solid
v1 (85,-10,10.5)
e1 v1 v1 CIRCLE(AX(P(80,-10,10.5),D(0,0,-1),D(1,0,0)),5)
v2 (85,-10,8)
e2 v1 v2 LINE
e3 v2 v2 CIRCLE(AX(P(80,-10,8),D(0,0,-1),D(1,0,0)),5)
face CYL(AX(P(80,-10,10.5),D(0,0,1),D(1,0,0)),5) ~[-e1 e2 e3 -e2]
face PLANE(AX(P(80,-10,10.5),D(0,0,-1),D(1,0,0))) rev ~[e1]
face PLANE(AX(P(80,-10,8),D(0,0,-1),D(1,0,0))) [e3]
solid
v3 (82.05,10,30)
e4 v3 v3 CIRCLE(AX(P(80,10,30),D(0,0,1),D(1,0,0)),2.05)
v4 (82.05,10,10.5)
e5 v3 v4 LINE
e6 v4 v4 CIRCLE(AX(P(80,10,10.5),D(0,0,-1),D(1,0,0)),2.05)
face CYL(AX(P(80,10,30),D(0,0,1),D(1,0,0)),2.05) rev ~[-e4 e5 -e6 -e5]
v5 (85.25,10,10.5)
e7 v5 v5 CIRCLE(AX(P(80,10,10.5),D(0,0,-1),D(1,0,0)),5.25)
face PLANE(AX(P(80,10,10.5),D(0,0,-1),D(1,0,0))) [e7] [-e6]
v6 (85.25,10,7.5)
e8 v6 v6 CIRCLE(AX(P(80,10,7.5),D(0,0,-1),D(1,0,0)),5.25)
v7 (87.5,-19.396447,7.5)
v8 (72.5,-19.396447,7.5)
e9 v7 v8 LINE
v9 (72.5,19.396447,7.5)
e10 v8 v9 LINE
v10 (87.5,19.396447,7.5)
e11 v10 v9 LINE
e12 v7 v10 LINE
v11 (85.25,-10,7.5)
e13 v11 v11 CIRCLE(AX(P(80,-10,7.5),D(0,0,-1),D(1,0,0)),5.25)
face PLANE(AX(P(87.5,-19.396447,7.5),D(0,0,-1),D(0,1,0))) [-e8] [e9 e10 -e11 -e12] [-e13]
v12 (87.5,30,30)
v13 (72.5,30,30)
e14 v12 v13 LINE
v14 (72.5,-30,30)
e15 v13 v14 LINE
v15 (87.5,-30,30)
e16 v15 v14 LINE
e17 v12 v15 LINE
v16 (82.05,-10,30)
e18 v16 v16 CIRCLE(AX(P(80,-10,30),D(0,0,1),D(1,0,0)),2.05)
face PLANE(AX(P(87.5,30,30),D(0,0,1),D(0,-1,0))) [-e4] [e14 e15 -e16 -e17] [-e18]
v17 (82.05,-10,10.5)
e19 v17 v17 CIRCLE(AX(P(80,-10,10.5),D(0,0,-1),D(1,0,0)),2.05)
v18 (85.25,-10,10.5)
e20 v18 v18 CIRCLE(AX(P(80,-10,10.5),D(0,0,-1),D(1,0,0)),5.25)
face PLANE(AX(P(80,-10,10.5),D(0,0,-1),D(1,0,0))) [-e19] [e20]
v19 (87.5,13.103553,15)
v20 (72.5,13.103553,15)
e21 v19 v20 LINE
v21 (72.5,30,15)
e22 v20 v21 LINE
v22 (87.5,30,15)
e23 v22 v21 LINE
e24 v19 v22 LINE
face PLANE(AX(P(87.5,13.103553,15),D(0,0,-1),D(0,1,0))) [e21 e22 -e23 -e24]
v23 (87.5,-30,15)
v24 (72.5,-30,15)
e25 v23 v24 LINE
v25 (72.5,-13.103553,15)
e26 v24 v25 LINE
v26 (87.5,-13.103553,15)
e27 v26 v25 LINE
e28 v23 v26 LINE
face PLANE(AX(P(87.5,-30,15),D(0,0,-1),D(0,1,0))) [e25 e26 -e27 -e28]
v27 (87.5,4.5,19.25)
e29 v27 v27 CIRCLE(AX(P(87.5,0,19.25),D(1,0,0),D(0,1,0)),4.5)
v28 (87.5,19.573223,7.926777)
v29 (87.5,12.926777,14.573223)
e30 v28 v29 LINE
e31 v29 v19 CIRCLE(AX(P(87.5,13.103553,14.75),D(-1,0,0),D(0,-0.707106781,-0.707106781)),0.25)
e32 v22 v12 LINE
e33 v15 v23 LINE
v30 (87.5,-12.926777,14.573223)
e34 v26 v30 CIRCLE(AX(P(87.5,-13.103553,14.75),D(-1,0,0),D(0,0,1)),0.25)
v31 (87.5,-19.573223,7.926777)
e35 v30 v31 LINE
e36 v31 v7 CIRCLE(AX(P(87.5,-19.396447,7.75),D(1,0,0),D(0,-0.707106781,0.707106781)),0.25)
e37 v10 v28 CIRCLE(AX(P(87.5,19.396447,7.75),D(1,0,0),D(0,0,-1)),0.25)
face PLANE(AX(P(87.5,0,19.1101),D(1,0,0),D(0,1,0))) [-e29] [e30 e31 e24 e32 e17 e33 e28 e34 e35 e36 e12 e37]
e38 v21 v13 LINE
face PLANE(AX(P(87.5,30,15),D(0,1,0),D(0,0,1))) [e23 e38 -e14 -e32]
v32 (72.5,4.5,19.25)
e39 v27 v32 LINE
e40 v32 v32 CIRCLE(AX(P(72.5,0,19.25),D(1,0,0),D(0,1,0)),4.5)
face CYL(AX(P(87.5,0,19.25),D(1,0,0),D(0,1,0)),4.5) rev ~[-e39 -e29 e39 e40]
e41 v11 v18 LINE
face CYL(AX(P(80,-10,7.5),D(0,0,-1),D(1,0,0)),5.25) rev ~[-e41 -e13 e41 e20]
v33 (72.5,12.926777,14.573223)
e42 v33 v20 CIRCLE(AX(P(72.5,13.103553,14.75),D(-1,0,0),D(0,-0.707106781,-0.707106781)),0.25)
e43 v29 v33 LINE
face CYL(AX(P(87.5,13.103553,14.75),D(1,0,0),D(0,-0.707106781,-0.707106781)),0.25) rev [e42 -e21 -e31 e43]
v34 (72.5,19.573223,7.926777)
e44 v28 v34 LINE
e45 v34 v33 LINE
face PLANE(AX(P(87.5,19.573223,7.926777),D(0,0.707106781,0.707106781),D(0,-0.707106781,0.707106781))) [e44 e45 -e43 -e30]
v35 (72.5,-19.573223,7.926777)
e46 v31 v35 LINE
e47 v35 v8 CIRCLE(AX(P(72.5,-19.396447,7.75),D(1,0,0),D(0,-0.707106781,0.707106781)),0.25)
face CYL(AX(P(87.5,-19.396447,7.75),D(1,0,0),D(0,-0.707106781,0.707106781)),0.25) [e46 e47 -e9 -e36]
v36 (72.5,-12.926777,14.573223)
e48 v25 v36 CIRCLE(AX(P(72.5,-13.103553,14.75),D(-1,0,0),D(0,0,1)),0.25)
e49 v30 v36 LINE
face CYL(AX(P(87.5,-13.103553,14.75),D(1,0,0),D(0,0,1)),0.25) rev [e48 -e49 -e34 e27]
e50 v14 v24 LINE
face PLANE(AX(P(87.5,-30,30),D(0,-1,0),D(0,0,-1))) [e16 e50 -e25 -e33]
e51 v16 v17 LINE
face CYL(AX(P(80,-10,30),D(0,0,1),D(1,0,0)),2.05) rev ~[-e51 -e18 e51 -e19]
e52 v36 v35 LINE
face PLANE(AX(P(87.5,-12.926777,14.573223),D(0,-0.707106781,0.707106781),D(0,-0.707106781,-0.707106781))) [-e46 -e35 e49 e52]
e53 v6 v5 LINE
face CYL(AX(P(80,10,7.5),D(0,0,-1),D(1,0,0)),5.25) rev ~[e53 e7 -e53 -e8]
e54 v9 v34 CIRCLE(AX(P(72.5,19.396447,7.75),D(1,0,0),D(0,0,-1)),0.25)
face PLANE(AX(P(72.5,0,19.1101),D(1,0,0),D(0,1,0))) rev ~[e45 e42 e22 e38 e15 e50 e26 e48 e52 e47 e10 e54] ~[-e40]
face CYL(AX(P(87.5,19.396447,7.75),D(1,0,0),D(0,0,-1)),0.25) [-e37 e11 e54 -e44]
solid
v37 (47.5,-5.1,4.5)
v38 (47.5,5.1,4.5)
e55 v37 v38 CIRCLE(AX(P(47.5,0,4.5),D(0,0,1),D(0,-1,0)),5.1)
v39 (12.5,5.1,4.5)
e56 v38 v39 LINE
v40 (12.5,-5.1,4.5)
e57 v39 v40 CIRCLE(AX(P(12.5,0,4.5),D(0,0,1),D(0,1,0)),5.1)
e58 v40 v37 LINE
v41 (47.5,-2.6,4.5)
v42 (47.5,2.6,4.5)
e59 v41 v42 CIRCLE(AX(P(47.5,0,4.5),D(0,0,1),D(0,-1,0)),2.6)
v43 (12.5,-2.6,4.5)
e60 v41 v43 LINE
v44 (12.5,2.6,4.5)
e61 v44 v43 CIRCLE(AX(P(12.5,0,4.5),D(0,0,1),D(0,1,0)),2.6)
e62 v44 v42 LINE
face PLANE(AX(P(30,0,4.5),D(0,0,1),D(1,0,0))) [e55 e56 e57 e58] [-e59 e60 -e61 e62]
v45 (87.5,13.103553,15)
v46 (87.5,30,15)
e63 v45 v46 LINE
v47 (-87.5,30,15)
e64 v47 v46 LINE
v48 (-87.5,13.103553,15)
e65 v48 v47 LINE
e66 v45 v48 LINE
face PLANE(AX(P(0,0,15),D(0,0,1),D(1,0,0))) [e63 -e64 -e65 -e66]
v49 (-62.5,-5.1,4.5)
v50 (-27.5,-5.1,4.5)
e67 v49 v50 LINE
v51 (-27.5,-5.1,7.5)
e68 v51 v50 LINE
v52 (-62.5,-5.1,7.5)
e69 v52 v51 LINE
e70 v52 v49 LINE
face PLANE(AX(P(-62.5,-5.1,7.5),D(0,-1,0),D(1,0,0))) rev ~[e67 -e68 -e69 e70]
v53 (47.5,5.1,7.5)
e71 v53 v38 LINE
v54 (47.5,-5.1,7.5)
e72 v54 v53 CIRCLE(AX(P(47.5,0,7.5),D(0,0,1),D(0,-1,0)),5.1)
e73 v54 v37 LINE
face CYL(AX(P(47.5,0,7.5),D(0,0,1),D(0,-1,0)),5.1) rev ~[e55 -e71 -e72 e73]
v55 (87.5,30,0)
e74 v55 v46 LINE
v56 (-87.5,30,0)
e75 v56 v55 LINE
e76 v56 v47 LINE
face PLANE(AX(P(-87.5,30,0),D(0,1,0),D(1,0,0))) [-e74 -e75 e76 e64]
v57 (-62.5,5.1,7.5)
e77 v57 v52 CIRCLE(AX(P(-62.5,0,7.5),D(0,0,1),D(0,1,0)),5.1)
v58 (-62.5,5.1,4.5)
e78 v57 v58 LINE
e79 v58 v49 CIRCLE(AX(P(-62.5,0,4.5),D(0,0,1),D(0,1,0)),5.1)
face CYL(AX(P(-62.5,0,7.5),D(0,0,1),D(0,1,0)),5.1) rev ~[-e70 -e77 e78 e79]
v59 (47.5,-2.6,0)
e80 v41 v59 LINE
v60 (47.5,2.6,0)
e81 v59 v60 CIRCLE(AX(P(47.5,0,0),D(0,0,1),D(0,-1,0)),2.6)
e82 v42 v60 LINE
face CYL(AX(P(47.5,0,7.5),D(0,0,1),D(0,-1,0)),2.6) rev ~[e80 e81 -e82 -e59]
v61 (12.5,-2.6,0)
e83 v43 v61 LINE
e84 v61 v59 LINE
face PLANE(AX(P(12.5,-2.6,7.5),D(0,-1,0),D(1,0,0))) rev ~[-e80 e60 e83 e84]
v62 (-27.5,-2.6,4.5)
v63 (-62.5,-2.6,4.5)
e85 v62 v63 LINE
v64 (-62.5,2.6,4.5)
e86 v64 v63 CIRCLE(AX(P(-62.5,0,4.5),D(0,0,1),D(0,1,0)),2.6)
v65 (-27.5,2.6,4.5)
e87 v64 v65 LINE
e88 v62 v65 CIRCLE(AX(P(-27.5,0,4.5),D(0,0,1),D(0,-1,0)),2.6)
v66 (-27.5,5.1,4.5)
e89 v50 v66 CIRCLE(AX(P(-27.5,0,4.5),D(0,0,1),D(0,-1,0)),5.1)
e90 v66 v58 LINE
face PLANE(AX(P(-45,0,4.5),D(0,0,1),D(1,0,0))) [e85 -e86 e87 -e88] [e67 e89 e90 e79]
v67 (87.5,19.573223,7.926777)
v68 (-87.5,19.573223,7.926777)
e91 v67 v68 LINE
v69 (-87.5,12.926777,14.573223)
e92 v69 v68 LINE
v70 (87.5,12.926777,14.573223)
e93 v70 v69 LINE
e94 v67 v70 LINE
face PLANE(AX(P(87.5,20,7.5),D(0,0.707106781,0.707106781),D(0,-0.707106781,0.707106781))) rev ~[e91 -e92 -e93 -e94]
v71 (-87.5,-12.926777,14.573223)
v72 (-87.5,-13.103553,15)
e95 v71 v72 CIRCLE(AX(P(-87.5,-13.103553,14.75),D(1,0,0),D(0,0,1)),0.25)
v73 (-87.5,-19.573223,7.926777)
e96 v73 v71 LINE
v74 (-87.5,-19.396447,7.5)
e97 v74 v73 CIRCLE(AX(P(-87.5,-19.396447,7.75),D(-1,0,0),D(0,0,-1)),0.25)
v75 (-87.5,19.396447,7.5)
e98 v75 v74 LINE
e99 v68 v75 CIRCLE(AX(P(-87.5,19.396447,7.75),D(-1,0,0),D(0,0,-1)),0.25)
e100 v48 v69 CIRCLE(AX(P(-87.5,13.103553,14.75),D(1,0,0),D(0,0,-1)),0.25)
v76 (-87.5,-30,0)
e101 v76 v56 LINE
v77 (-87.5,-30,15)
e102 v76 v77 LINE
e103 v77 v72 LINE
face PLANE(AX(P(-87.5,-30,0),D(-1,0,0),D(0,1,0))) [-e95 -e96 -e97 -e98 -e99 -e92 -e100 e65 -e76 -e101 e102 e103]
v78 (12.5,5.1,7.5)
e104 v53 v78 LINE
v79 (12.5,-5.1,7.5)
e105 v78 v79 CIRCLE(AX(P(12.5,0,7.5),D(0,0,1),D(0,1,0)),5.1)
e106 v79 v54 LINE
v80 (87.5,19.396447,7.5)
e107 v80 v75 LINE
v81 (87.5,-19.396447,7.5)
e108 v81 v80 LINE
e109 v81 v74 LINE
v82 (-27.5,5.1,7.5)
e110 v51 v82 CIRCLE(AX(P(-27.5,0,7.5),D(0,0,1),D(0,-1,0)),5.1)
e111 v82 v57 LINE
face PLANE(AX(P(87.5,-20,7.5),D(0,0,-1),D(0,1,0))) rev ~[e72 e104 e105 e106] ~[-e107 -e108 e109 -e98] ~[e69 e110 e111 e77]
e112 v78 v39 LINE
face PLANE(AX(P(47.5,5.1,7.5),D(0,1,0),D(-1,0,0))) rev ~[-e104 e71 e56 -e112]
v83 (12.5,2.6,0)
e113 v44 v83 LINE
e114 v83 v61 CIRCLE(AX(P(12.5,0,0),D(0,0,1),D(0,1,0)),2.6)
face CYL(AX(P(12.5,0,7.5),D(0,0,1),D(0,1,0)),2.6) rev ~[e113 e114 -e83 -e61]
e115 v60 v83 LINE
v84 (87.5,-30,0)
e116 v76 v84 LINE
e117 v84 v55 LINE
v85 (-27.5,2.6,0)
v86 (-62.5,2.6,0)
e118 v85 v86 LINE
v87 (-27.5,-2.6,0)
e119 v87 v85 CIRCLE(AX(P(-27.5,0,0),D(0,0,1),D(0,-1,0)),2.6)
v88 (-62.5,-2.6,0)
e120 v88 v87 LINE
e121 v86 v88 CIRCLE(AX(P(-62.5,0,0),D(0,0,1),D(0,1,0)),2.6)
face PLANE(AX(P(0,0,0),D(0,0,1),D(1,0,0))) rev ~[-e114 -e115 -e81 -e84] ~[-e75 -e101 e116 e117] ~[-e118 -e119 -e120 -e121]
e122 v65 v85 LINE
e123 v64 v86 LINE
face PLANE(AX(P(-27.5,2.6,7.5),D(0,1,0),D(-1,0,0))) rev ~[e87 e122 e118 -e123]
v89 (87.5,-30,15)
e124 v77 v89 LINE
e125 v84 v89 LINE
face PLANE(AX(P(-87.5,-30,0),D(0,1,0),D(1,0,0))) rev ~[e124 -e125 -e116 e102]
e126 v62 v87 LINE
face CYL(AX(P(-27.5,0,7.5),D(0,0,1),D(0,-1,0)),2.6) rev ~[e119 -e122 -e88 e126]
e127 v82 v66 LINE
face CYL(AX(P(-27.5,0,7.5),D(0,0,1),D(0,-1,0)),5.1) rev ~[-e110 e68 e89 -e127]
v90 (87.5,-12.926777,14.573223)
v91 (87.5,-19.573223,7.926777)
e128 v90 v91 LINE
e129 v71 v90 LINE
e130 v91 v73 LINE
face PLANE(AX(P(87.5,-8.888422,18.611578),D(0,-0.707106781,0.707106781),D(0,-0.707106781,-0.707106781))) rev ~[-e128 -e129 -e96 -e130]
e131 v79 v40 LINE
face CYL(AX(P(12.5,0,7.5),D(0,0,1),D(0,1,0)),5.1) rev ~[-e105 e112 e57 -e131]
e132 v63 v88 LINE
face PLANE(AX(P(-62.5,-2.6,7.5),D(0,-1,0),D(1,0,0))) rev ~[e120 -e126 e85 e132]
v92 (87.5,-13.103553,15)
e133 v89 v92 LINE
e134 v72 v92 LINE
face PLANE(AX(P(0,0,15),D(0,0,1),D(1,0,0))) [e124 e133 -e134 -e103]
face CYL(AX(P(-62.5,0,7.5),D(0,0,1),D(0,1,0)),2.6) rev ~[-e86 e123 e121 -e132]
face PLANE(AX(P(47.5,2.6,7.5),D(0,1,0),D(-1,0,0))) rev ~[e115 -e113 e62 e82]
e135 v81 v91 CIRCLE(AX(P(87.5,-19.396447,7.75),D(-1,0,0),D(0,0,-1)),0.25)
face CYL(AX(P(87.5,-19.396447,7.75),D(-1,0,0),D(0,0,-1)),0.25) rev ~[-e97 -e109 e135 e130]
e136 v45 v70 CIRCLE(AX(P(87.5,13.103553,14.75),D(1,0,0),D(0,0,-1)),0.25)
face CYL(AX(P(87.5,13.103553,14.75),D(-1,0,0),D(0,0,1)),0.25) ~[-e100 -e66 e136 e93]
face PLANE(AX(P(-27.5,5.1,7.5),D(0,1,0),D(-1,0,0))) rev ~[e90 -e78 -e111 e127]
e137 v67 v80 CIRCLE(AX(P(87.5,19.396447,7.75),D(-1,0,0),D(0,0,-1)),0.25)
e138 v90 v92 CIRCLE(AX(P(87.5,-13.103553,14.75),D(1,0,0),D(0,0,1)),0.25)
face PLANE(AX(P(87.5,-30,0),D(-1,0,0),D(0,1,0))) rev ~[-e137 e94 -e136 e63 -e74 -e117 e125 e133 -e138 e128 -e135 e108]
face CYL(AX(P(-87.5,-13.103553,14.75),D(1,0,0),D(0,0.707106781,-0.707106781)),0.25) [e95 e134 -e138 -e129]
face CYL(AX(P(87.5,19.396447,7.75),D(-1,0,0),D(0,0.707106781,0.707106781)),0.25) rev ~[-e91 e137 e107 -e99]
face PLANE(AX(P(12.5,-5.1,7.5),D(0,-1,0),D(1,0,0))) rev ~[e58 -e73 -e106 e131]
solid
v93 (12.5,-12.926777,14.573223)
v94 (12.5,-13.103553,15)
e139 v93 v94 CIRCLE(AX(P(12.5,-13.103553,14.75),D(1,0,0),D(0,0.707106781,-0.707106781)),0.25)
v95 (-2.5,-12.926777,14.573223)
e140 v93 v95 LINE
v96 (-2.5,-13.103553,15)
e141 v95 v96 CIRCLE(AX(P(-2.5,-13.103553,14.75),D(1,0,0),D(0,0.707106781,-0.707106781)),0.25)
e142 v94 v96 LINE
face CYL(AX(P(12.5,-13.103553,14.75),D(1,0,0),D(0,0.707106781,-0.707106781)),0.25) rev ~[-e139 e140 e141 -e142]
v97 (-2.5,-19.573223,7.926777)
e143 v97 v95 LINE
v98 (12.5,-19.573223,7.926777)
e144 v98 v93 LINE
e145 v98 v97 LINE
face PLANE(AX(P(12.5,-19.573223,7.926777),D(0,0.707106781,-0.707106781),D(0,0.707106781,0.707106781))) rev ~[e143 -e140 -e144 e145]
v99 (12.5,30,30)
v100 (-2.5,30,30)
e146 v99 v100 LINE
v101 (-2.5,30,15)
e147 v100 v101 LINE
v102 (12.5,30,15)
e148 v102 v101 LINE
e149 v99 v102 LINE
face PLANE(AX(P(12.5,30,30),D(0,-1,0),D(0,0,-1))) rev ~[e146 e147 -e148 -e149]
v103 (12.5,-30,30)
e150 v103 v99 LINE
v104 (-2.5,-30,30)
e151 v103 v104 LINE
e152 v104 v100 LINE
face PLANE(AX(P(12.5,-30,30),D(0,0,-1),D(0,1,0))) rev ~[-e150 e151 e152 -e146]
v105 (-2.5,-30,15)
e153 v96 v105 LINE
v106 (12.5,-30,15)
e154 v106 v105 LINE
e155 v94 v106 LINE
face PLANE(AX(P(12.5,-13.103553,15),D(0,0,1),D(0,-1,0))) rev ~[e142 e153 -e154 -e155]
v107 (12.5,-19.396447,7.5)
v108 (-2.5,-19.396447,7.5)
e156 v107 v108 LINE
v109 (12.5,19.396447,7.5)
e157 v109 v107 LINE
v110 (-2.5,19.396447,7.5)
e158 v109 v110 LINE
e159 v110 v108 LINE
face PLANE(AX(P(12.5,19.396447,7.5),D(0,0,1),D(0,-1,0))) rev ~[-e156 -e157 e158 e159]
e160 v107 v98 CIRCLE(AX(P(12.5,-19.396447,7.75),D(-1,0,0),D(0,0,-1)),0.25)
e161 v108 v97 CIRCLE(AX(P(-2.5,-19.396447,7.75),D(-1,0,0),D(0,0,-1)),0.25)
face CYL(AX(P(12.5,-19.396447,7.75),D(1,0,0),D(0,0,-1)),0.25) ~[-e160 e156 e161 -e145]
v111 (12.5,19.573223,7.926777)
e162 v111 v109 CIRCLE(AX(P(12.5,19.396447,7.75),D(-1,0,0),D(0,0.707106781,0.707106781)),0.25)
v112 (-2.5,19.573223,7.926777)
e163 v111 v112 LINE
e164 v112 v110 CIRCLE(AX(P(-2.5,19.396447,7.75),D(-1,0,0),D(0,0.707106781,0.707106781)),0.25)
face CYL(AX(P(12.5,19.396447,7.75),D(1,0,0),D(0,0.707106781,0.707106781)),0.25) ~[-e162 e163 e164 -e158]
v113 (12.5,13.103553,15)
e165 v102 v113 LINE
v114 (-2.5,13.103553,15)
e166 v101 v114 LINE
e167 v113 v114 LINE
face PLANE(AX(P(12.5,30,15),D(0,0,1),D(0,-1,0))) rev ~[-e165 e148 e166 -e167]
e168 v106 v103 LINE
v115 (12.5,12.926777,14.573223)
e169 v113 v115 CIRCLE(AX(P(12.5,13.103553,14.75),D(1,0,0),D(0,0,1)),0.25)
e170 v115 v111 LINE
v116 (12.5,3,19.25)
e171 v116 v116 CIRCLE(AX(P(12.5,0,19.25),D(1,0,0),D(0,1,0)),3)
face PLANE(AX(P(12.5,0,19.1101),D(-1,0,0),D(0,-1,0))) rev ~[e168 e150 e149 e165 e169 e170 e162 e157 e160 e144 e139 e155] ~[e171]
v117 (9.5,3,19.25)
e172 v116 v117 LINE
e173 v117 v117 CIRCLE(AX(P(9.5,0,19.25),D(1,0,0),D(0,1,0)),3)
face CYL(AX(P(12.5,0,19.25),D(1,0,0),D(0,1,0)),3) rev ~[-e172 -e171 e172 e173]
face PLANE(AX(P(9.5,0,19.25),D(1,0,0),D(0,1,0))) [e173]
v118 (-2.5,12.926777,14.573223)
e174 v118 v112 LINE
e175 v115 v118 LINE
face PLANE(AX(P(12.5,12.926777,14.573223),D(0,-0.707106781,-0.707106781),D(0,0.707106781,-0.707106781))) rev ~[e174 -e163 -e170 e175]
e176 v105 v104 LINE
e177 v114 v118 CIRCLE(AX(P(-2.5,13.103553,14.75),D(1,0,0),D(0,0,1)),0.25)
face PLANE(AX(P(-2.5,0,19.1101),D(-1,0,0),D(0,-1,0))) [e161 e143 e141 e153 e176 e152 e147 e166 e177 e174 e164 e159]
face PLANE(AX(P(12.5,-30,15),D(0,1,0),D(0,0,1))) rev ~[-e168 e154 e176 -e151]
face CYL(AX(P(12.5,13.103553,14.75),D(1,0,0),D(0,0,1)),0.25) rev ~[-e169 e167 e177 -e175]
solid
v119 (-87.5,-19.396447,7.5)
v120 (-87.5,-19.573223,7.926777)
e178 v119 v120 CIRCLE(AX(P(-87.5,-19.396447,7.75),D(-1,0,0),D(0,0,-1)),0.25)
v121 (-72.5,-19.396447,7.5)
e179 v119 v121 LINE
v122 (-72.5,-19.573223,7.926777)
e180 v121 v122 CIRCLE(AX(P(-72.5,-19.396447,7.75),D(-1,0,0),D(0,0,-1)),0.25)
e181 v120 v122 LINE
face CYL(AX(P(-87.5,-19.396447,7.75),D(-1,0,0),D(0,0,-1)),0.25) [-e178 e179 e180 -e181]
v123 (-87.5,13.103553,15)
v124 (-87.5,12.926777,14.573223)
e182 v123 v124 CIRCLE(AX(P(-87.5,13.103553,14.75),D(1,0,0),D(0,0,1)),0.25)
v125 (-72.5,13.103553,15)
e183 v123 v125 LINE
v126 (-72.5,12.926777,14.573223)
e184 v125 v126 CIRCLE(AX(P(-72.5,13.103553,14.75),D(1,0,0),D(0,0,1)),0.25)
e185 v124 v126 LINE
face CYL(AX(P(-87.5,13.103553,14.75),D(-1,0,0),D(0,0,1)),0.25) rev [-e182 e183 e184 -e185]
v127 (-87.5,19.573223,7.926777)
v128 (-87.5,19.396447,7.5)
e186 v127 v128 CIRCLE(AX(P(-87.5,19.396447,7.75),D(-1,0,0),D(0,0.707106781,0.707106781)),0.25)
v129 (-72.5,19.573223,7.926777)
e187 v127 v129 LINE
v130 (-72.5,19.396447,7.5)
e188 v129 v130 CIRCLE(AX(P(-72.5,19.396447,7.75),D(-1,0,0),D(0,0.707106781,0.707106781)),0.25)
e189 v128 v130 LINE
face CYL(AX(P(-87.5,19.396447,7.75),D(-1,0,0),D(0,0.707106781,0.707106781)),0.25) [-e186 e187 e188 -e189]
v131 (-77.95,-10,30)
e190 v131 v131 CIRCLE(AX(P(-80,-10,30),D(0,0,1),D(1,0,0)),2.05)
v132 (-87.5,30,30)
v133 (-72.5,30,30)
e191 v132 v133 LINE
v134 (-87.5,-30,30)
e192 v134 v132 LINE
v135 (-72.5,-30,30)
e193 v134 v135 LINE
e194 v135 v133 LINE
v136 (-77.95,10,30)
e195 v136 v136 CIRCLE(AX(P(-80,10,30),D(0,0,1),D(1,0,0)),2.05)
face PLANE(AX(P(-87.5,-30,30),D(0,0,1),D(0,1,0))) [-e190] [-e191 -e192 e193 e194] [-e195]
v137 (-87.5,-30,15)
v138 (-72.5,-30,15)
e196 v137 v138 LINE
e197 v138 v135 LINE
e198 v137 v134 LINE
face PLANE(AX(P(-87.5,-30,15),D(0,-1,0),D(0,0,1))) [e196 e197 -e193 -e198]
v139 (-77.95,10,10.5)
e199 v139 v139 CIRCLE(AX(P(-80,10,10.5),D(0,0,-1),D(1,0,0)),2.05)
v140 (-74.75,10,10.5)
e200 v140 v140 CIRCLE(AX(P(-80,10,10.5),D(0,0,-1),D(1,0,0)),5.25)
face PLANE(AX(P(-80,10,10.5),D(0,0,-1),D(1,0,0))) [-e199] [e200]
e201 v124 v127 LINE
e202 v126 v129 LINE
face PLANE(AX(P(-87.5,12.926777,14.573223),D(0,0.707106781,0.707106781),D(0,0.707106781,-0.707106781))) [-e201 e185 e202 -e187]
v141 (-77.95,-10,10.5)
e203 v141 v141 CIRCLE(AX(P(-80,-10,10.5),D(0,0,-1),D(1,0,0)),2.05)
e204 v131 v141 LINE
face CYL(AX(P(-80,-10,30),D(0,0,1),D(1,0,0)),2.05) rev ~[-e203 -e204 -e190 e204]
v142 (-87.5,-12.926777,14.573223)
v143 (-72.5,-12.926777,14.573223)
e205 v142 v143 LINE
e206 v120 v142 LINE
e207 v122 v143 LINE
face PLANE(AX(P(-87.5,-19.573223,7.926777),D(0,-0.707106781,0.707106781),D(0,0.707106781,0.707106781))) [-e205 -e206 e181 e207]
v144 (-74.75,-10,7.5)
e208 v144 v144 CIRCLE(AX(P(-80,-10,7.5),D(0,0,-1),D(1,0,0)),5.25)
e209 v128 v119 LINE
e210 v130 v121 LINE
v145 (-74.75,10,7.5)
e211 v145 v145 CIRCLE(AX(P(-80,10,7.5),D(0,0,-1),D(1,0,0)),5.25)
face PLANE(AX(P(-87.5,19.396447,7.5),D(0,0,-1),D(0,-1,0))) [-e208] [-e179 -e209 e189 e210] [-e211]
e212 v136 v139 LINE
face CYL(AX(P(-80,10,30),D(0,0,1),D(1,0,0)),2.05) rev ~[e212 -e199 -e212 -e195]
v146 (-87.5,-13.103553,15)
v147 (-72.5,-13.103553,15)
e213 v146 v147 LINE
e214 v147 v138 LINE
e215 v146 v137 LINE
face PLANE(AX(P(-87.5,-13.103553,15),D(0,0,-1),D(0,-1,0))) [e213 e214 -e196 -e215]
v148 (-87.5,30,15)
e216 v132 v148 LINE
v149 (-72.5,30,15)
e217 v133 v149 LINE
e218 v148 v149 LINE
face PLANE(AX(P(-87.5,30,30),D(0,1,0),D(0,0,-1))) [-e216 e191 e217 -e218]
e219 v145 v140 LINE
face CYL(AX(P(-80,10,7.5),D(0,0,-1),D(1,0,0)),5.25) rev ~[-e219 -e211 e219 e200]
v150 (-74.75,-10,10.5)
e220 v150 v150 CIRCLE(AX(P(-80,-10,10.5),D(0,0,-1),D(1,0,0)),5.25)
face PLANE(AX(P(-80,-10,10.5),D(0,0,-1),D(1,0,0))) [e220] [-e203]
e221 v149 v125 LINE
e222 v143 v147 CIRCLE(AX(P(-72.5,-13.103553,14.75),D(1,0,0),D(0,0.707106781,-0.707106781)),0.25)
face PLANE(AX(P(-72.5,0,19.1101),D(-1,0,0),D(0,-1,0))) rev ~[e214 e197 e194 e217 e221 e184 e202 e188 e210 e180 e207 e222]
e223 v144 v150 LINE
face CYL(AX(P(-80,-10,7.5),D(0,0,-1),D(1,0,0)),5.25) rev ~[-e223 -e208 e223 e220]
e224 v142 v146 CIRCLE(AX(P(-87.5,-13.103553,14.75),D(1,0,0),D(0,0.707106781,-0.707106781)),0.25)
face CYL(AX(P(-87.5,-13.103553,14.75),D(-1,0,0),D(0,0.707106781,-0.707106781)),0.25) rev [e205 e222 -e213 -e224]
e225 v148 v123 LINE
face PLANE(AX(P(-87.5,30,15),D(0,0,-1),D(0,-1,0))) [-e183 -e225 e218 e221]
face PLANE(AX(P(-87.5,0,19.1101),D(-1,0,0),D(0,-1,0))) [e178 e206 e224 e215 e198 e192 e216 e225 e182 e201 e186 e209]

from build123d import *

# Parameters (mm, degrees)
F0_W      = 175
F0_H      = 60
F1_DEPTH  = 15
F3_DEPTH  = 175.001
F4_R      = 0.25
F6_DEPTH  = 15
F7_R      = 4.5
F8_DEPTH  = 175.001
F10_DEPTH = 15
F13_DEPTH = 15
F14_R     = 3
F15_DEPTH = 3
F16_R     = 2.05
F17_DEPTH = 22.5
F18_R     = 2.05
F19_DEPTH = 22.5
F20_R     = 5.25
F20_R_2   = 2.05
F21_DEPTH = 3
F22_R     = 5.25
F22_R_2   = 2.05
F23_DEPTH = 3
F24_R     = 5
F24_R_2   = 2.05
F25_DEPTH = 2.5
F27_DEPTH = 25
F29_DEPTH = 3


with BuildPart() as f1:
    # F0 (on Top) → F1 (new body)
    with BuildSketch(Plane.XY):
        Rectangle(F0_W, F0_H)
    extrude(amount=F1_DEPTH)

    # F2 (on face) → F3 (cut, through all)
    with BuildSketch(Plane.YZ.offset(87.5)):
        Polygon((-12.5, 15), (-20, 7.5), (20, 7.5), (12.5, 15), align=None)
        Polygon((-8.8884221898, 18.6115778102), (-12.5, 15), (12.5, 15), (9.7629078865, 17.7370921135), align=None)
    extrude(amount=-F3_DEPTH, mode=Mode.SUBTRACT)

    # F4
    f4_edges = [f1.edges().sort_by_distance(p)[0] for p in [
        (0, -20, 7.5),
        (0, 20, 7.5),
        (0, 12.5, 15),
        (0, -12.5, 15),
    ]]
    fillet(f4_edges, radius=F4_R)

    # F26 (on face) → F27 (cut)
    with BuildSketch(Plane.XY.offset(7.5)):
        with BuildLine():
            ThreePointArc((-27.5, -2.6), (-24.9, 0), (-27.5, 2.6))
            Line((-27.5, 2.6), (-62.5, 2.6))
            ThreePointArc((-62.5, 2.6), (-65.1, 0), (-62.5, -2.6))
            Line((-62.5, -2.6), (-27.5, -2.6))
        make_face()
        with BuildLine():
            ThreePointArc((12.5, 2.6), (9.9, 0), (12.5, -2.6))
            Line((12.5, -2.6), (47.5, -2.6))
            ThreePointArc((47.5, -2.6), (50.1, 0), (47.5, 2.6))
            Line((47.5, 2.6), (12.5, 2.6))
        make_face()
    extrude(amount=-F27_DEPTH, mode=Mode.SUBTRACT)

    # F28 (on face) → F29 (cut)
    with BuildSketch(Plane.XY.offset(7.5)):
        with BuildLine():
            ThreePointArc((12.5, 5.1), (7.4, 0), (12.5, -5.1))
            Line((12.5, -5.1), (47.5, -5.1))
            ThreePointArc((47.5, -5.1), (52.6, 0), (47.5, 5.1))
            Line((47.5, 5.1), (12.5, 5.1))
        make_face()
        with BuildLine():
            ThreePointArc((-27.5, -5.1), (-22.4, 0), (-27.5, 5.1))
            Line((-27.5, 5.1), (-62.5, 5.1))
            ThreePointArc((-62.5, 5.1), (-67.6, 0), (-62.5, -5.1))
            Line((-62.5, -5.1), (-27.5, -5.1))
        make_face()
    extrude(amount=-F29_DEPTH, mode=Mode.SUBTRACT)


with BuildPart() as f6:
    # F5 (on face) → F6 (new body)
    with BuildSketch(Plane.YZ.offset(87.5)):
        with BuildLine():
            Line((13.1035533906, 15), (30, 15))
            Line((30, 15), (30, 30))
            Line((30, 30), (-30, 30))
            Line((-30, 30), (-30, 15))
            Line((-30, 15), (-13.1035533906, 15))
            ThreePointArc((-13.1035533906, 15), (-12.8725835075, 14.8456708581), (-12.9267766953, 14.5732233047))
            Line((-12.9267766953, 14.5732233047), (-19.5732233047, 7.9267766953))
            ThreePointArc((-19.5732233047, 7.9267766953), (-19.6274164925, 7.6543291419), (-19.3964466094, 7.5))
            Line((-19.3964466094, 7.5), (19.3964466094, 7.5))
            ThreePointArc((19.3964466094, 7.5), (19.6274164925, 7.6543291419), (19.5732233047, 7.9267766953))
            Line((19.5732233047, 7.9267766953), (12.9267766953, 14.5732233047))
            ThreePointArc((12.9267766953, 14.5732233047), (12.8725835075, 14.8456708581), (13.1035533906, 15))
        make_face()
    extrude(amount=-F6_DEPTH)

    # F7 (on face) → F8 (cut, through all)
    with BuildSketch(Plane.YZ.offset(87.5)):
        with Locations((0, 19.25)):
            Circle(F7_R)
    extrude(amount=-F8_DEPTH, mode=Mode.SUBTRACT)

    # F16 (on face) → F17 (cut, through all)
    with BuildSketch(Plane.XY.offset(30)):
        with Locations((80, 10)):
            Circle(F16_R)
        with Locations((80, -10)):
            Circle(F16_R)
    extrude(amount=-F17_DEPTH, mode=Mode.SUBTRACT)

    # F22 (on face) → F23 (cut)
    with BuildSketch(Plane(origin=(0, 0, 7.5), x_dir=(1, 0, 0), z_dir=(0, 0, -1))):
        with Locations((80, 10.0000000002)):
            Circle(F22_R)
        with Locations((80, 10)):
            Circle(F22_R_2, mode=Mode.SUBTRACT)
        with Locations((80, -9.9999999998)):
            Circle(F22_R)
        with Locations((80, -10)):
            Circle(F22_R_2, mode=Mode.SUBTRACT)
    extrude(amount=-F23_DEPTH, mode=Mode.SUBTRACT)


with BuildPart() as f10:
    # F9 (on face) → F10 (new body)
    with BuildSketch(Plane(origin=(-87.5, 0, 0), x_dir=(0, -1, 0), z_dir=(-1, 0, 0))):
        with BuildLine():
            Line((-12.9267766953, 14.5732233047), (-19.5732233047, 7.9267766953))
            ThreePointArc((-19.5732233047, 7.9267766953), (-19.6274164925, 7.6543291419), (-19.3964466094, 7.5))
            Line((-19.3964466094, 7.5), (19.3964466094, 7.5))
            ThreePointArc((19.3964466094, 7.5), (19.6274164925, 7.6543291419), (19.5732233047, 7.9267766953))
            Line((19.5732233047, 7.9267766953), (12.9267766953, 14.5732233047))
            ThreePointArc((12.9267766953, 14.5732233047), (12.8725835075, 14.8456708581), (13.1035533906, 15))
            Line((13.1035533906, 15), (30, 15))
            Line((30, 15), (30, 30))
            Line((30, 30), (-30, 30))
            Line((-30, 30), (-30, 15))
            Line((-30, 15), (-13.1035533906, 15))
            ThreePointArc((-13.1035533906, 15), (-12.8725835075, 14.8456708581), (-12.9267766953, 14.5732233047))
        make_face()
    extrude(amount=-F10_DEPTH)

    # F18 (on face) → F19 (cut, through all)
    with BuildSketch(Plane.XY.offset(30)):
        with Locations((-80, 10)):
            Circle(F18_R)
        with Locations((-80, -10)):
            Circle(F18_R)
    extrude(amount=-F19_DEPTH, mode=Mode.SUBTRACT)

    # F20 (on face) → F21 (cut)
    with BuildSketch(Plane(origin=(0, 0, 7.5), x_dir=(1, 0, 0), z_dir=(0, 0, -1))):
        with Locations((-80, 10.0000000002)):
            Circle(F20_R)
        with Locations((-80, 10)):
            Circle(F20_R_2, mode=Mode.SUBTRACT)
        with Locations((-80, -9.9999999998)):
            Circle(F20_R)
        with Locations((-80, -10)):
            Circle(F20_R_2, mode=Mode.SUBTRACT)
    extrude(amount=-F21_DEPTH, mode=Mode.SUBTRACT)


with BuildPart() as f13:
    # F12 (on offset) → F13 (new body)
    with BuildSketch(Plane(origin=(12.5, 0, 0), x_dir=(0, -1, 0), z_dir=(-1, 0, 0))):
        with BuildLine():
            Line((-12.9267766953, 14.5732233047), (-19.5732233047, 7.9267766953))
            ThreePointArc((-19.5732233047, 7.9267766953), (-19.6274164925, 7.6543291419), (-19.3964466094, 7.5))
            Line((-19.3964466094, 7.5), (19.3964466094, 7.5))
            ThreePointArc((19.3964466094, 7.5), (19.6274164925, 7.6543291419), (19.5732233047, 7.9267766953))
            Line((19.5732233047, 7.9267766953), (12.9267766953, 14.5732233047))
            ThreePointArc((12.9267766953, 14.5732233047), (12.8725835075, 14.8456708581), (13.1035533906, 15))
            Line((13.1035533906, 15), (30, 15))
            Line((30, 15), (30, 30))
            Line((30, 30), (-30, 30))
            Line((-30, 30), (-30, 15))
            Line((-30, 15), (-13.1035533906, 15))
            ThreePointArc((-13.1035533906, 15), (-12.8725835075, 14.8456708581), (-12.9267766953, 14.5732233047))
        make_face()
    extrude(amount=F13_DEPTH)

    # F14 (on face) → F15 (cut)
    with BuildSketch(Plane.YZ.offset(12.5)):
        with Locations((0, 19.25)):
            Circle(F14_R)
    extrude(amount=-F15_DEPTH, mode=Mode.SUBTRACT)


with BuildPart() as f25:
    # F24 (on face) → F25 (new body)
    with BuildSketch(Plane(origin=(0, 0, 10.5), x_dir=(1, 0, 0), z_dir=(0, 0, -1))):
        with Locations((80, 10.0000000002)):
            Circle(F24_R)
        with Locations((80, 10)):
            Circle(F24_R_2, mode=Mode.SUBTRACT)
        with Locations((80, 10)):
            Circle(F24_R_2)
    extrude(amount=F25_DEPTH)


solid = Compound([f1.part, f6.part, f10.part, f13.part, f25.part])
